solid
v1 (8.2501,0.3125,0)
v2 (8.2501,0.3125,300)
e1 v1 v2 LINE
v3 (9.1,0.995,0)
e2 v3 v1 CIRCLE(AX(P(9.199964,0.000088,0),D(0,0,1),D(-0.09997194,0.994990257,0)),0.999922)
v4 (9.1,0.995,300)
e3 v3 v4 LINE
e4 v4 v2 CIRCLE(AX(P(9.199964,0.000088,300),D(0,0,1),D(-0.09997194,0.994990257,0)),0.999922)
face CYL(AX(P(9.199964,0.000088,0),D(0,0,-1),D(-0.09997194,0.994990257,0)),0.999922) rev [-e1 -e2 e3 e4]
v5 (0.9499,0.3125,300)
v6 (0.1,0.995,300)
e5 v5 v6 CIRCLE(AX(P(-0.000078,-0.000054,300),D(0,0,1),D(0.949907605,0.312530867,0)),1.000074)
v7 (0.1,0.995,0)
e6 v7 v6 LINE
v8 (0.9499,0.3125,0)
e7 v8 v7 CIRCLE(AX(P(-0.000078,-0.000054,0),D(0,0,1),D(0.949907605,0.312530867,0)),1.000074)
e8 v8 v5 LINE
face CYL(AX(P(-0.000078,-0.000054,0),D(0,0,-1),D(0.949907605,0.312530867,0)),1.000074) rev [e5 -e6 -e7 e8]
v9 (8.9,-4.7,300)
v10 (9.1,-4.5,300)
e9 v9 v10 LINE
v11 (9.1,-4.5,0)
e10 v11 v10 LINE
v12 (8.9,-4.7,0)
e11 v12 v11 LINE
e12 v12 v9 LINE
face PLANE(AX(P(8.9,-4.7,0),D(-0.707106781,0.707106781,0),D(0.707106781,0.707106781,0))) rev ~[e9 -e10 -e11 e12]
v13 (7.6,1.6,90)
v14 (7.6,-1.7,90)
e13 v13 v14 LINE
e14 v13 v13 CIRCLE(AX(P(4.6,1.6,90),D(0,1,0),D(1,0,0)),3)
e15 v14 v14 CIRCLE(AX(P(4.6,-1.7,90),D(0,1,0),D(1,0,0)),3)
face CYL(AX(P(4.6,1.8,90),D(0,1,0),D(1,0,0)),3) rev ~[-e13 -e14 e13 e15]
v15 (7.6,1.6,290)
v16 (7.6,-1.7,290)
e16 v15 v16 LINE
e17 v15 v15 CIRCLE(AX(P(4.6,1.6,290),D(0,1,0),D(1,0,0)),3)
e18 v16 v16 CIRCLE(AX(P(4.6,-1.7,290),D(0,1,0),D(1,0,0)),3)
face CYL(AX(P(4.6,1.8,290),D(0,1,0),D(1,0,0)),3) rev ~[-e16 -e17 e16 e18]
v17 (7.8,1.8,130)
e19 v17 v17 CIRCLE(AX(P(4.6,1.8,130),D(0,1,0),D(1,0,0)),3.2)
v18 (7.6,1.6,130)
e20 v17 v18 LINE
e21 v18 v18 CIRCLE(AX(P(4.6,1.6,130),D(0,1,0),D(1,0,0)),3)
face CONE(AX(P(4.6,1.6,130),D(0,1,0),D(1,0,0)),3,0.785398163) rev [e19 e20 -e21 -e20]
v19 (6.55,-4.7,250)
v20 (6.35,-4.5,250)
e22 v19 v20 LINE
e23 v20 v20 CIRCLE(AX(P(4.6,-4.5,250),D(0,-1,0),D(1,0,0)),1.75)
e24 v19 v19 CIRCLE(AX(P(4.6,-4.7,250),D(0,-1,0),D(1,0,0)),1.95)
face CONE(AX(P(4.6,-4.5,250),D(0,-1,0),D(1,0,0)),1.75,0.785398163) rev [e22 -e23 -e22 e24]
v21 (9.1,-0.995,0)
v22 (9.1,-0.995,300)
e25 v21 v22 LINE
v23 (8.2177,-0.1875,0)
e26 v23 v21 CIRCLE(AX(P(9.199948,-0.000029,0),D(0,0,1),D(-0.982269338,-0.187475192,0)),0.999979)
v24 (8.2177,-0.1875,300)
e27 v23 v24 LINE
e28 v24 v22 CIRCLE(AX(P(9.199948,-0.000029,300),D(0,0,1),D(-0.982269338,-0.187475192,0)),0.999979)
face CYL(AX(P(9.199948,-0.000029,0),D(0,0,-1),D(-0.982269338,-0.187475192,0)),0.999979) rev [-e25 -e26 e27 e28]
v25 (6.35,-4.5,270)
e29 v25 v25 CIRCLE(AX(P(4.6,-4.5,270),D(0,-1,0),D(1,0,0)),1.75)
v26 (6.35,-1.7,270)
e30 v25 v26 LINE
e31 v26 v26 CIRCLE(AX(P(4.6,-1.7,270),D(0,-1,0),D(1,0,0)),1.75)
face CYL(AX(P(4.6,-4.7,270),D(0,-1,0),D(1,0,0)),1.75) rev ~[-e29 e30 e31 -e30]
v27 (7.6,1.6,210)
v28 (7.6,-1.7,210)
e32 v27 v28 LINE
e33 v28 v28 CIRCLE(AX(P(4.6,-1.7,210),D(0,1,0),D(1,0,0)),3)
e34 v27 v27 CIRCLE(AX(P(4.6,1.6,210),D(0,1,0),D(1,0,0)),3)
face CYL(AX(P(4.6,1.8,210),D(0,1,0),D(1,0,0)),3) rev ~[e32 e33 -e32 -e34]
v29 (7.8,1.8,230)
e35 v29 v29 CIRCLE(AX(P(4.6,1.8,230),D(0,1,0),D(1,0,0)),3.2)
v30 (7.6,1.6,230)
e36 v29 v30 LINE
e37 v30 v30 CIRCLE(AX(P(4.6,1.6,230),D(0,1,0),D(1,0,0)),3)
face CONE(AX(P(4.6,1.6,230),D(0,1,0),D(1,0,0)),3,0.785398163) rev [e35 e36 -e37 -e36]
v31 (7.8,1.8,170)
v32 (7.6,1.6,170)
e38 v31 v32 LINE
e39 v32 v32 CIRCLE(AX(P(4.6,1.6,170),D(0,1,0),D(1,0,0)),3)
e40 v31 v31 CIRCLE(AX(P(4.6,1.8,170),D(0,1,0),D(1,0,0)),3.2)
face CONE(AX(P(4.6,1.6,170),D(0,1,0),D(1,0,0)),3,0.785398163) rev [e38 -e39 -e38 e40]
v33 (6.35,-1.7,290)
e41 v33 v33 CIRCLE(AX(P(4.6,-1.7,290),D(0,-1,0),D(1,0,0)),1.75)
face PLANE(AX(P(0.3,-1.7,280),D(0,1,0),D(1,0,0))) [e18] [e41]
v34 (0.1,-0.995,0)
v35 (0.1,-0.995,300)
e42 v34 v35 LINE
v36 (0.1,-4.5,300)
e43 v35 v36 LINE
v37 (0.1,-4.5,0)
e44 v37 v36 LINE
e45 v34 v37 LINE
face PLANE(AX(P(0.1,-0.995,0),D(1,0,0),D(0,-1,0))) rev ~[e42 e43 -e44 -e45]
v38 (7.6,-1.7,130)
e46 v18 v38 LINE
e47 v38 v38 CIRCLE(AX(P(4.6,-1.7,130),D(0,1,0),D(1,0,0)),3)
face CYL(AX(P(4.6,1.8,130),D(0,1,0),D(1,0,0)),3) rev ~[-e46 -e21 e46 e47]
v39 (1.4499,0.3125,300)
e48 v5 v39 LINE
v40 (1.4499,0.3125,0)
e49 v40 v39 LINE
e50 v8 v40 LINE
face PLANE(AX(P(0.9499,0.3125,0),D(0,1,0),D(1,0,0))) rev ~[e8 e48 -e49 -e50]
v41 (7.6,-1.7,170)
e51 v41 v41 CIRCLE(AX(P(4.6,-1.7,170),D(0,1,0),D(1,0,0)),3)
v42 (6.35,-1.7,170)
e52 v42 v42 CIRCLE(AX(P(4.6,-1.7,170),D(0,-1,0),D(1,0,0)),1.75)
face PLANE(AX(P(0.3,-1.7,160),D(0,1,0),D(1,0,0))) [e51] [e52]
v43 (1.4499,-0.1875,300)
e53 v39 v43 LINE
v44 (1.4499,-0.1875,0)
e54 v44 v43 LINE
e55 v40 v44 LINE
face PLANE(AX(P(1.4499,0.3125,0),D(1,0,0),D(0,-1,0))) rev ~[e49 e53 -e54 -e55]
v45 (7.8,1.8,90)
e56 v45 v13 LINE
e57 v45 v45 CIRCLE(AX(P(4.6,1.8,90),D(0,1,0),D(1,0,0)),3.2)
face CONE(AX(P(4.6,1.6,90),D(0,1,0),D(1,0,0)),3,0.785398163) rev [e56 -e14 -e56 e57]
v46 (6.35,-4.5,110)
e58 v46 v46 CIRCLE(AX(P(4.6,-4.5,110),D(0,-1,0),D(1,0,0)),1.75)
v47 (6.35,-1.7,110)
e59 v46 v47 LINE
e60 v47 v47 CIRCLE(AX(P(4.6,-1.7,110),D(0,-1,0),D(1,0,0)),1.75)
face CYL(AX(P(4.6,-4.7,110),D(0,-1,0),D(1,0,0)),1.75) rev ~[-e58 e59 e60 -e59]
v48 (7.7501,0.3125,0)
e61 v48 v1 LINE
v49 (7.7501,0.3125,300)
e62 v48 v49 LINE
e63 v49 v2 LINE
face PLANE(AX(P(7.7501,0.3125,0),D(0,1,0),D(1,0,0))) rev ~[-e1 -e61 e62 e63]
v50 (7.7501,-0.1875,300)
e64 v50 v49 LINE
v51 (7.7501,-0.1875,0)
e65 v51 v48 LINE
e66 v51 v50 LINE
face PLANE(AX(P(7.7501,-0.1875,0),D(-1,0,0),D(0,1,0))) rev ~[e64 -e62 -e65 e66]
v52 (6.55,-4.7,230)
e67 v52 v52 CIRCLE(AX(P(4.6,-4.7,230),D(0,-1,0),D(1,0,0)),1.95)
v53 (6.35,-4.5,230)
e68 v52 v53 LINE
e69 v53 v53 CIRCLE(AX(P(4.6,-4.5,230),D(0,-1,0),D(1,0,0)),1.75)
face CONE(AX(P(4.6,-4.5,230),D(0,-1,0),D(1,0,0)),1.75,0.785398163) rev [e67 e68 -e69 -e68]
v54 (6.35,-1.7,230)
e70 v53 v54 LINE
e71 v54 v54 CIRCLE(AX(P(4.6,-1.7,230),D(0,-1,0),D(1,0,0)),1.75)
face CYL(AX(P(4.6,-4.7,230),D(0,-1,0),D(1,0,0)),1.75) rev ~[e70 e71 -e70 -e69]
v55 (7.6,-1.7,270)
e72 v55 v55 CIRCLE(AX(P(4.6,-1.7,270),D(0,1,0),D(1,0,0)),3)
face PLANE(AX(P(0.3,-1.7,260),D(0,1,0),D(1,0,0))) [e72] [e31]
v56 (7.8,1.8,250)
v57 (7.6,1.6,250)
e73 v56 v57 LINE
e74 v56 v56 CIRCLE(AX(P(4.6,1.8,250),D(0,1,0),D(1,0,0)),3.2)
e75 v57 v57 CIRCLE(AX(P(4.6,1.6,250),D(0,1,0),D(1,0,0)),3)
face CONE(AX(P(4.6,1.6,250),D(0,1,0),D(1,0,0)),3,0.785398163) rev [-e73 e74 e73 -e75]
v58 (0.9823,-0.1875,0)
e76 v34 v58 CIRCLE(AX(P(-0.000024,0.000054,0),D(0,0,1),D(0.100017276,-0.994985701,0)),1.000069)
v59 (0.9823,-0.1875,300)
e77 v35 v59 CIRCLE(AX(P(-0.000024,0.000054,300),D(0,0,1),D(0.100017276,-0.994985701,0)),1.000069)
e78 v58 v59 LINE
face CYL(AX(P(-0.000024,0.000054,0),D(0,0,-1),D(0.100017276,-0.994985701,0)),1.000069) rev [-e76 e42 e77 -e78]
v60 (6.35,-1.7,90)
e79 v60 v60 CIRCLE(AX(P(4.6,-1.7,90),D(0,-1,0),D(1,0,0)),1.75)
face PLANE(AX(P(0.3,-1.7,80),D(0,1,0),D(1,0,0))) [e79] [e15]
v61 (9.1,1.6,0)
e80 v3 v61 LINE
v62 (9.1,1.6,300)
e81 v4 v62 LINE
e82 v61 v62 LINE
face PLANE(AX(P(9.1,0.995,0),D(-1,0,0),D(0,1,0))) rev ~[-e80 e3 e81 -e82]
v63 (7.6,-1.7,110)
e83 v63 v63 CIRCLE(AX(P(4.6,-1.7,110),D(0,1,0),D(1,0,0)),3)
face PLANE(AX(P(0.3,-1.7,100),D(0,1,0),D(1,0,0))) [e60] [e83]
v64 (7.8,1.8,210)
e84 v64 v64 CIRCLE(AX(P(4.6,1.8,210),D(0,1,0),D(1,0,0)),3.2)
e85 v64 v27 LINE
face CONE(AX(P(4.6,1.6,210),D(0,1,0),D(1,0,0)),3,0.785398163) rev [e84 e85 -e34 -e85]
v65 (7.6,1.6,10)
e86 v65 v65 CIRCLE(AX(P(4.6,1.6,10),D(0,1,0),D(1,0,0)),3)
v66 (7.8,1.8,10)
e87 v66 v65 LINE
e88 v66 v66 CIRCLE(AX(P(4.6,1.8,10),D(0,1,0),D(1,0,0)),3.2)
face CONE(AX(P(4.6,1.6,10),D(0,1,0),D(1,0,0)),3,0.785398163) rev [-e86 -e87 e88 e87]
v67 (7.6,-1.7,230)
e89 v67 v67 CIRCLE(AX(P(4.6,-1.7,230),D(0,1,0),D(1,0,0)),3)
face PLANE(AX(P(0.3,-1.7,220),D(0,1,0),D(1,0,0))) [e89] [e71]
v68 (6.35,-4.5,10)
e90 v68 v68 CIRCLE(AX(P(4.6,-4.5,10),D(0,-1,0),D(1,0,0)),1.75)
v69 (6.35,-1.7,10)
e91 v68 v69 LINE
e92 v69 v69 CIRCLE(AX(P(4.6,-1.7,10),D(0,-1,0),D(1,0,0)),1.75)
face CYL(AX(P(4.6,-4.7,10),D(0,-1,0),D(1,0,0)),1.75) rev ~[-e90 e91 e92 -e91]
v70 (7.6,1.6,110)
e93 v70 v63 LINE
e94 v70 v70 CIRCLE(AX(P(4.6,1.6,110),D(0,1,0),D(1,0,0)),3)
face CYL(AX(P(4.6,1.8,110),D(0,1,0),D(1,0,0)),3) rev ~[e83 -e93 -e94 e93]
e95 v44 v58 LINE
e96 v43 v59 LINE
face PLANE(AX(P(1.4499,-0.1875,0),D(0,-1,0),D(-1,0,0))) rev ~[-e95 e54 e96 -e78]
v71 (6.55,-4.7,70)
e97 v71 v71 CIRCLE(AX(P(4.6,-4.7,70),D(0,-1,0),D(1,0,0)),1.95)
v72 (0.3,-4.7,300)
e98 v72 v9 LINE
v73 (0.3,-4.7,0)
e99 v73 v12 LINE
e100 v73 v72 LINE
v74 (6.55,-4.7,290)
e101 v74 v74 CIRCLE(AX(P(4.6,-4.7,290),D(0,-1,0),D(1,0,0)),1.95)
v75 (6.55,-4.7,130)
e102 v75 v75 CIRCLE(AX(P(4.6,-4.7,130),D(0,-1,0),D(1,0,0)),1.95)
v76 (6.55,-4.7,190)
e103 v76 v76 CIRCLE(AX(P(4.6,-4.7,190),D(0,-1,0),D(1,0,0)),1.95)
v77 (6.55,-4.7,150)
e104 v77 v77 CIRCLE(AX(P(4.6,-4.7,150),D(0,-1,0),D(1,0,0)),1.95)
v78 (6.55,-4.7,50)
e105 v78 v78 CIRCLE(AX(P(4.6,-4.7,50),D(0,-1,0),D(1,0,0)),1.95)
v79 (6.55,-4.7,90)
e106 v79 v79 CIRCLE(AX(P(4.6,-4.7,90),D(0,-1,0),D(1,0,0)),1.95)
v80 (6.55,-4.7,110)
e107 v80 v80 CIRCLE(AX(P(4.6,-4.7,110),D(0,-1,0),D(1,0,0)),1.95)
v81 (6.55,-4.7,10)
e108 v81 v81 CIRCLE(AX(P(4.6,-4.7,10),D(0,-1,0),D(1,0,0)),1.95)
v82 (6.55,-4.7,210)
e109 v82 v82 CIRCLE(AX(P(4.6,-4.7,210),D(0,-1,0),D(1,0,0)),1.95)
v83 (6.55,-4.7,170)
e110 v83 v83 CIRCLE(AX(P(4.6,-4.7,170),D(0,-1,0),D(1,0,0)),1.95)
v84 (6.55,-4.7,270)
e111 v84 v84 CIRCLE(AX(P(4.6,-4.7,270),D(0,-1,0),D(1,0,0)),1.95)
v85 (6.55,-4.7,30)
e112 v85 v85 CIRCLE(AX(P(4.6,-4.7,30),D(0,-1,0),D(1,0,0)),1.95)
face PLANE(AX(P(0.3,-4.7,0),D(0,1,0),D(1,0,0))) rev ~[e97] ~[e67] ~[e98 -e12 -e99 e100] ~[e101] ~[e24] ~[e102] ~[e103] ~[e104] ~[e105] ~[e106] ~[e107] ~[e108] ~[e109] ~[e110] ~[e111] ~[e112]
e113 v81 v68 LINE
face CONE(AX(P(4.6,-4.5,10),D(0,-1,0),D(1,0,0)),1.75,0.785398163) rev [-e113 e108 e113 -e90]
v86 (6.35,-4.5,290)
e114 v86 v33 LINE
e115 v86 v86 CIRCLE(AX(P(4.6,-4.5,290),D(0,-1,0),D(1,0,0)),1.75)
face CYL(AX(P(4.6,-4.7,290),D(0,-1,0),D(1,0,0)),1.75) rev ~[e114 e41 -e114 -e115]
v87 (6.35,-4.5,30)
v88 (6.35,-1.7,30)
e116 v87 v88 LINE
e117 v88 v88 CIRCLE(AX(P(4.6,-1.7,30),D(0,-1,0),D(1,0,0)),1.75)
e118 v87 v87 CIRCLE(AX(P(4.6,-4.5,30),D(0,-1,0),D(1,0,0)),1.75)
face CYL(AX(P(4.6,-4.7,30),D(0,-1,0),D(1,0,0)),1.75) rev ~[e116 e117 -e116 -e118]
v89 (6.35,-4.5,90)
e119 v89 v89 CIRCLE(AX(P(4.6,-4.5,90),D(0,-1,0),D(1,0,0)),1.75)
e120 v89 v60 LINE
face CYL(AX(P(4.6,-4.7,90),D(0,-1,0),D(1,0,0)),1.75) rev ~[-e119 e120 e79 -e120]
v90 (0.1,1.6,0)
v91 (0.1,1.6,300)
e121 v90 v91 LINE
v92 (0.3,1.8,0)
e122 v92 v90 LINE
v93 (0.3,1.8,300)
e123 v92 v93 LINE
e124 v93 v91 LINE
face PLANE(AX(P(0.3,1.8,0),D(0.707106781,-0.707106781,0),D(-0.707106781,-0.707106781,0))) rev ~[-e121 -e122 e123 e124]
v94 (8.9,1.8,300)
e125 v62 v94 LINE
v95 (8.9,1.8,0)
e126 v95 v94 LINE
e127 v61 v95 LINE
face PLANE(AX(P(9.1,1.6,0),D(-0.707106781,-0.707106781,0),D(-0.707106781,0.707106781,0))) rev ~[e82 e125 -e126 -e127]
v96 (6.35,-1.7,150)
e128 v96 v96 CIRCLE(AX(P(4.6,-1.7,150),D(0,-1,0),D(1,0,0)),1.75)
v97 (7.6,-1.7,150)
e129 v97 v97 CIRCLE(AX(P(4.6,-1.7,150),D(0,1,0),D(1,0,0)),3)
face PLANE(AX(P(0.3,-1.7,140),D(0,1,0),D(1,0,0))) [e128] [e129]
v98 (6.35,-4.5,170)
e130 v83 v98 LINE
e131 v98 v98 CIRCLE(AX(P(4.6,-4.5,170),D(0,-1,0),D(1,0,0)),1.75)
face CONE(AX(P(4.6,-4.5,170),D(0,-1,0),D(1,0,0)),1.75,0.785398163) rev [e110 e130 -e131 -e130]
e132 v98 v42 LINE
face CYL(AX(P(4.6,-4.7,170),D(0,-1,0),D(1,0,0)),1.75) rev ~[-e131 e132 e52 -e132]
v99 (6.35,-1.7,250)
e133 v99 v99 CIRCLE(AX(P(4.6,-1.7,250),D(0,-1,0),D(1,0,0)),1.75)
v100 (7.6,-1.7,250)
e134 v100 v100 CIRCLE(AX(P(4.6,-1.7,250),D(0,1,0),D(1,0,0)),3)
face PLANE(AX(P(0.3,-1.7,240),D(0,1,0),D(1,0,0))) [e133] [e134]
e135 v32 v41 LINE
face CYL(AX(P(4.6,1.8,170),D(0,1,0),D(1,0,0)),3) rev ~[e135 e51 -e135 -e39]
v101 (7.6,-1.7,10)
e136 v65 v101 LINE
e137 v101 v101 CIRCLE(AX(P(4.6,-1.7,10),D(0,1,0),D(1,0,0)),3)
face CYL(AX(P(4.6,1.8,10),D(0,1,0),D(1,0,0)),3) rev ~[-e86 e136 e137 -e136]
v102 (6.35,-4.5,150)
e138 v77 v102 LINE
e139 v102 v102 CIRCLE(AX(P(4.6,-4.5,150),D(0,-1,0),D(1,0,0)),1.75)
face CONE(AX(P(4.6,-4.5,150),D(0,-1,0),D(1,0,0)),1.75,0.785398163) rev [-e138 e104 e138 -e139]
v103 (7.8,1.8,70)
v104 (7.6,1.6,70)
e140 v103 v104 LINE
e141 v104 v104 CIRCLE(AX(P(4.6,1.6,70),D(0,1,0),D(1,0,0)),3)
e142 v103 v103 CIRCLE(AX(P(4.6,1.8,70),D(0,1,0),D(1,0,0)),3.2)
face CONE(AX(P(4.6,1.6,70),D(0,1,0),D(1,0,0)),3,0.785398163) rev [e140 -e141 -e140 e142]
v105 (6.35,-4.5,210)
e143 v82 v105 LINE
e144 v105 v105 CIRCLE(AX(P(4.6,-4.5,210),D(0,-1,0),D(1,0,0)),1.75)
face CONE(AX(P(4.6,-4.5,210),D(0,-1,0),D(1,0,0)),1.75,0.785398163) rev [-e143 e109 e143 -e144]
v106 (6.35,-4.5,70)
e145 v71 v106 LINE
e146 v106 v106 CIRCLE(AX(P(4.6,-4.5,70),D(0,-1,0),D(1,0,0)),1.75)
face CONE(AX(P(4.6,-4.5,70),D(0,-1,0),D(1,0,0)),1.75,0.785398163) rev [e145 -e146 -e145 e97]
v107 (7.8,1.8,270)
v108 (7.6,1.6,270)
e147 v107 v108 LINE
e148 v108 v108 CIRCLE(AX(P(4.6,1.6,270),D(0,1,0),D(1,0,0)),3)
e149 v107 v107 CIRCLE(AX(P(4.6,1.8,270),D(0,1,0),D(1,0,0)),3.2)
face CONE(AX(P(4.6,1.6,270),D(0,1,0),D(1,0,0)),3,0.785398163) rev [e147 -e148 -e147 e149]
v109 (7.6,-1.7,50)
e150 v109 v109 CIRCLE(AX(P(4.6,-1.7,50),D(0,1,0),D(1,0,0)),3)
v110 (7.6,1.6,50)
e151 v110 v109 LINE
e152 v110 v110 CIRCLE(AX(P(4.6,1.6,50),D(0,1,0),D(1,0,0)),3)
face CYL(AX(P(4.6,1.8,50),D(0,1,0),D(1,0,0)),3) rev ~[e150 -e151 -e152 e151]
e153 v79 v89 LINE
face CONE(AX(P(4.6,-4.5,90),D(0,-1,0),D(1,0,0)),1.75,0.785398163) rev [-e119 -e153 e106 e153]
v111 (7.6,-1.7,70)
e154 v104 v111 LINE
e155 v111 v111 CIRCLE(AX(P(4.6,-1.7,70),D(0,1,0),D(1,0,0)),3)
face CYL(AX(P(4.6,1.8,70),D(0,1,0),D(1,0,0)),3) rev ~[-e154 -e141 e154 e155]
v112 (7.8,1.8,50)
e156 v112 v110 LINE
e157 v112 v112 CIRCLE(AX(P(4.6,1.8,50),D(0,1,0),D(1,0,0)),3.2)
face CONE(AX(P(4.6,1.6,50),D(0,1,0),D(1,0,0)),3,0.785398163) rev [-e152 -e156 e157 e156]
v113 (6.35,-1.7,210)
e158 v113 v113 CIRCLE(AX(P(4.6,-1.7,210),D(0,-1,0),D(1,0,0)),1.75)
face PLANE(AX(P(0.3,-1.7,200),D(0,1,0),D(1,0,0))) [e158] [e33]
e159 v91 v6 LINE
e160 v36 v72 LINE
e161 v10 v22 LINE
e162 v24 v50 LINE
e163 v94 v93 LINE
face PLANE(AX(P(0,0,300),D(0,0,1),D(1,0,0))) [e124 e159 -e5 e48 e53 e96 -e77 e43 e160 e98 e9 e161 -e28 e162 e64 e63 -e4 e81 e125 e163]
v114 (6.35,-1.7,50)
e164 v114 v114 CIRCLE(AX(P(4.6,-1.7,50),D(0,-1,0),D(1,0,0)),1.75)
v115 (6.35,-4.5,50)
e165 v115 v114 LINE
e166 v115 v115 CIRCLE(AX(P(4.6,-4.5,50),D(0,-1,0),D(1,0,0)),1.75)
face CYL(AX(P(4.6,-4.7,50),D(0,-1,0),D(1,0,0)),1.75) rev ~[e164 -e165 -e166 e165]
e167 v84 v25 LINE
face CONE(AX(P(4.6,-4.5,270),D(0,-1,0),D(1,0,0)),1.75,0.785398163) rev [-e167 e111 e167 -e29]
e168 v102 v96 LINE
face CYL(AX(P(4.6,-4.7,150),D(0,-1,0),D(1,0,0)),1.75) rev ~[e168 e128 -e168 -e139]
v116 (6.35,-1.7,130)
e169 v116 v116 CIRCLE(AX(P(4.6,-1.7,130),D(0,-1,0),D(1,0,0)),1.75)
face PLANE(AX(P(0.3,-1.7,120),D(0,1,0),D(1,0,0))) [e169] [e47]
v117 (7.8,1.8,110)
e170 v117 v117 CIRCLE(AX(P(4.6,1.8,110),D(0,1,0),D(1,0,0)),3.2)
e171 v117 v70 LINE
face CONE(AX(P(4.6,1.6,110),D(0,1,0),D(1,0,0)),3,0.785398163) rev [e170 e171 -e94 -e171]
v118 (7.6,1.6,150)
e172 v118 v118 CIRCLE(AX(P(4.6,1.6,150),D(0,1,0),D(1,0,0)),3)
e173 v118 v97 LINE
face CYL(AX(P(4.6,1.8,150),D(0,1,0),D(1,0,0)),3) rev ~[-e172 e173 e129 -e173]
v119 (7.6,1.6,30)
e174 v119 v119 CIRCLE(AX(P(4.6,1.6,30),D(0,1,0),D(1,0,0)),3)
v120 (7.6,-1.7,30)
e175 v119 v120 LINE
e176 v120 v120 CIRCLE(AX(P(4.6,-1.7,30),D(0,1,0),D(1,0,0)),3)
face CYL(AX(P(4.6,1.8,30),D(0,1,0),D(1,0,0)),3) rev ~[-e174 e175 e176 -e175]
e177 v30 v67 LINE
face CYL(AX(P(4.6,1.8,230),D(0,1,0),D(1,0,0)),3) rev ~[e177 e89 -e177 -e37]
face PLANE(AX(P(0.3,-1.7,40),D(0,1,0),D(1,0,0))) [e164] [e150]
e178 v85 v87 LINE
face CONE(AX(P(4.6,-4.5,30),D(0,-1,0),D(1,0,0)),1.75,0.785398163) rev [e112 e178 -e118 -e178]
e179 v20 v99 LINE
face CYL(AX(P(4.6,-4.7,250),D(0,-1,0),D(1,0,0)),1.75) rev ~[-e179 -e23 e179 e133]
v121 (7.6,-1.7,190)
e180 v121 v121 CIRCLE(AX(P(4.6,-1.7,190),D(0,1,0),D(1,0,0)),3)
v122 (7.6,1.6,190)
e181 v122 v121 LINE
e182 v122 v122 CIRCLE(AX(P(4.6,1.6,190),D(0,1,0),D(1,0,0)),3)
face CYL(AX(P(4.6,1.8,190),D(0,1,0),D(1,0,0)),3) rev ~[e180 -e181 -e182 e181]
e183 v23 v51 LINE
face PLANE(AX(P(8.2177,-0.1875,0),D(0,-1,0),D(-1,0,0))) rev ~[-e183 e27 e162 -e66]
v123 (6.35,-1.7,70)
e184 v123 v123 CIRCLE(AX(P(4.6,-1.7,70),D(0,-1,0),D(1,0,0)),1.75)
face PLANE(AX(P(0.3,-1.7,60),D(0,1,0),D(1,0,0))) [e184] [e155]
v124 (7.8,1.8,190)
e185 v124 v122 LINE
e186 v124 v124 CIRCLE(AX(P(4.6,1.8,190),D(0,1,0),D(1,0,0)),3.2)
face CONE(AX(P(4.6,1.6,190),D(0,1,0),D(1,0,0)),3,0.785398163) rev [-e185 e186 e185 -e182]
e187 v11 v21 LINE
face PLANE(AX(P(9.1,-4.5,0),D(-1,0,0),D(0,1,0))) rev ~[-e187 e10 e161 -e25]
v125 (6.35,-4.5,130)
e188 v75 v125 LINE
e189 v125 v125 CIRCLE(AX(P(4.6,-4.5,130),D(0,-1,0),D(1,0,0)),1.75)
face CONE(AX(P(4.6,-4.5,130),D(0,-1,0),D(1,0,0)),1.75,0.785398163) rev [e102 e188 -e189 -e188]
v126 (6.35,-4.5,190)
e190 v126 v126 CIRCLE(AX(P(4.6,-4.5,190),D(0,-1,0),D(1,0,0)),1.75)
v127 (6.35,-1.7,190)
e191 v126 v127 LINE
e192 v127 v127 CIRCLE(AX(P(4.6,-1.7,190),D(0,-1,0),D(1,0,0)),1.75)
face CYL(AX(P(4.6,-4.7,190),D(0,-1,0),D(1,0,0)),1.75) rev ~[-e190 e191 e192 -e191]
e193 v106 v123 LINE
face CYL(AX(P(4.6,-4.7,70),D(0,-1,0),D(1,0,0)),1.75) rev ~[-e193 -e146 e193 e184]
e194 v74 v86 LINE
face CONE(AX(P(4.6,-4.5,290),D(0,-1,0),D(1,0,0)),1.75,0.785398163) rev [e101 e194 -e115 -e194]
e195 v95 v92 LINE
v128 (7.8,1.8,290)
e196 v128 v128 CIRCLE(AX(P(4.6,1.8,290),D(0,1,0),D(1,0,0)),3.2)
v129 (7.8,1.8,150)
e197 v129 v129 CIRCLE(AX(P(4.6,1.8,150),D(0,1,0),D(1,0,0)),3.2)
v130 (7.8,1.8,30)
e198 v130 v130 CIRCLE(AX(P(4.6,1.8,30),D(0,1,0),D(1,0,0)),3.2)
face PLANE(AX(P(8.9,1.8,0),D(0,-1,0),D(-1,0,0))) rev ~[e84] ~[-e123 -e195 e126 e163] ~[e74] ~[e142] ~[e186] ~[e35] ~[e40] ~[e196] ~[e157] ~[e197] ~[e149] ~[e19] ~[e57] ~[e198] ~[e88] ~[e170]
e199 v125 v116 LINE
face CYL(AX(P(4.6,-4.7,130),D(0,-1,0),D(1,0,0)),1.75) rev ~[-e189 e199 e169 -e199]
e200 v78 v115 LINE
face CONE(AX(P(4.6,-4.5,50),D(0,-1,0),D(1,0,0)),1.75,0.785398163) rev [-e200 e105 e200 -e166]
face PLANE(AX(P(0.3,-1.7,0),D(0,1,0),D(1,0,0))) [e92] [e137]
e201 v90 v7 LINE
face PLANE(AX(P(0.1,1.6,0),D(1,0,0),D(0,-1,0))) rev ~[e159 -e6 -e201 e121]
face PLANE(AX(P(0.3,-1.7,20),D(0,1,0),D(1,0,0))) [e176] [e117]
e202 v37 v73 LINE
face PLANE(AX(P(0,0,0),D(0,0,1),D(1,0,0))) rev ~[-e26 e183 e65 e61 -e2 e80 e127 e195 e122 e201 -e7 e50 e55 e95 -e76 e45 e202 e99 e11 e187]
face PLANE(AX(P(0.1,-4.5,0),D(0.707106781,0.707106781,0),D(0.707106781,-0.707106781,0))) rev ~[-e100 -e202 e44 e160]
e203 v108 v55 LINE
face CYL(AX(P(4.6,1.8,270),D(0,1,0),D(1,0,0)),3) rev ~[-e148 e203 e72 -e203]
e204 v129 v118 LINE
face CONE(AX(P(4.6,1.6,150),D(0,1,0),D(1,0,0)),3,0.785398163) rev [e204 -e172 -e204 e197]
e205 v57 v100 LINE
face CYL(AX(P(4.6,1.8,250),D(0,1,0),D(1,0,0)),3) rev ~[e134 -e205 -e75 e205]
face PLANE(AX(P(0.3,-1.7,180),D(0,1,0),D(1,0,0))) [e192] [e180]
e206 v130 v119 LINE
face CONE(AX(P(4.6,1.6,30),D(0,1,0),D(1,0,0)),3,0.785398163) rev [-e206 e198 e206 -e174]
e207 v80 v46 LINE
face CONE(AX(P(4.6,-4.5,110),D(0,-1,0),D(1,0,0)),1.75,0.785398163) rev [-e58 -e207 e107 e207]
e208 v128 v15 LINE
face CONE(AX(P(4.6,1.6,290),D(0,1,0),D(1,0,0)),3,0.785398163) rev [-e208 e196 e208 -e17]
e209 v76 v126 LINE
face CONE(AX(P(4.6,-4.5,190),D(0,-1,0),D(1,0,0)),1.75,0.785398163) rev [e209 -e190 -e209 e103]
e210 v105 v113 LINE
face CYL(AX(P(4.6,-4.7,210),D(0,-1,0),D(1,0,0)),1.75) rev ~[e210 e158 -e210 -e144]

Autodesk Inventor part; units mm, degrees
ref_plane "YZ Plane" through (0, 0, 0) normal (1, 0, 0) x (0, 1, 0)
ref_plane "XZ Plane" through (0, 0, 0) normal (0, 1, 0) x (-1, 0, 0)
ref_plane "XY Plane" through (0, 0, 0) normal (0, 0, 1) x (1, 0, 0)
sketch "Эскиз1" plane through (0, 0, 0) normal (0, 0, 1) x (1, 0, 0)
  arc A0 (0.9499, 0.3125) -> (0.1, 0.995) centre (0, 0) ccw projected
  line L0 (0.9499, 0.3125) -> (1.4499, 0.3125) projected
  line L1 (1.4499, 0.3125) -> (1.4499, -0.1875) projected
  line L2 (1.4499, -0.1875) -> (0.9823, -0.1875) projected
  arc A1 (0.1, -0.995) -> (0.9823, -0.1875) centre (0, 0) ccw projected
  line L3 (0.1, -0.995) -> (0.1, -4.5) projected
  line L4 (0.1, -4.5) -> (0.3, -4.7) projected
  line L5 (0.3, -4.7) -> (8.9, -4.7) projected
  line L6 (8.9, -4.7) -> (9.1, -4.5) projected
  line L7 (9.1, -4.5) -> (9.1, -0.995) projected
  arc A2 (8.2177, -0.1875) -> (9.1, -0.995) centre (9.2, 0) ccw projected
  line L8 (8.2177, -0.1875) -> (7.7501, -0.1875) projected
  line L9 (7.7501, -0.1875) -> (7.7501, 0.3125) projected
  line L10 (7.7501, 0.3125) -> (8.2501, 0.3125) projected
  arc A3 (9.1, 0.995) -> (8.2501, 0.3125) centre (9.2, 0) ccw projected
  line L11 (9.1, 0.995) -> (9.1, 1.6) projected
  line L12 (9.1, 1.6) -> (8.9, 1.8) projected
  line L13 (8.9, 1.8) -> (0.3, 1.8) projected
  line L14 (0.3, 1.8) -> (0.1, 1.6) projected
  line L15 (0.1, 1.6) -> (0.1, 0.995) projected
extrude "Выдавливание1" add sketch "Эскиз1" along normal blind 300
sketch "Эскиз2" plane through (0.3, 1.8, 0) normal (0, 1, 0) x (1, 0, 0)
  line L0 (4.3, -2.5) -> (4.3, -42.5) construction
  circle A0 centre (4.3, -10) radius 3
  line L1 (8.6, 0) -> (0, 0) projected
  dimension "d3" = 6
  dimension "d25" = 10
extrude "Выдавливание2" cut sketch "Эскиз2" against normal blind 3.5
sketch "Эскиз3" plane through (0.3, -4.7, 0) normal (0, -1, 0) x (1, 0, 0)
  line L0 (0, 0) -> (8.6, 0) construction
  line L1 (4.3, 0) -> (4.3, 8.2468) construction
  circle A0 centre (4.3, 10) radius 1.75
  point P0 (-0.3, 0)
  dimension "d26" = 3.5
  dimension "d27" = 10
extrude "Выдавливание3" cut sketch "Эскиз3" against normal blind 5
chamfer "Фаска1" distance 0.2 angle 45 2 edges at (2.85, -4.7, 10) (1.6, 1.8, 10)
pattern_linear "Прямоуг.массив1" count 15 spacing 20 along (0, 0, 1) of "Выдавливание3", "Выдавливание2", "Фаска1"
properties part number "рельса"
